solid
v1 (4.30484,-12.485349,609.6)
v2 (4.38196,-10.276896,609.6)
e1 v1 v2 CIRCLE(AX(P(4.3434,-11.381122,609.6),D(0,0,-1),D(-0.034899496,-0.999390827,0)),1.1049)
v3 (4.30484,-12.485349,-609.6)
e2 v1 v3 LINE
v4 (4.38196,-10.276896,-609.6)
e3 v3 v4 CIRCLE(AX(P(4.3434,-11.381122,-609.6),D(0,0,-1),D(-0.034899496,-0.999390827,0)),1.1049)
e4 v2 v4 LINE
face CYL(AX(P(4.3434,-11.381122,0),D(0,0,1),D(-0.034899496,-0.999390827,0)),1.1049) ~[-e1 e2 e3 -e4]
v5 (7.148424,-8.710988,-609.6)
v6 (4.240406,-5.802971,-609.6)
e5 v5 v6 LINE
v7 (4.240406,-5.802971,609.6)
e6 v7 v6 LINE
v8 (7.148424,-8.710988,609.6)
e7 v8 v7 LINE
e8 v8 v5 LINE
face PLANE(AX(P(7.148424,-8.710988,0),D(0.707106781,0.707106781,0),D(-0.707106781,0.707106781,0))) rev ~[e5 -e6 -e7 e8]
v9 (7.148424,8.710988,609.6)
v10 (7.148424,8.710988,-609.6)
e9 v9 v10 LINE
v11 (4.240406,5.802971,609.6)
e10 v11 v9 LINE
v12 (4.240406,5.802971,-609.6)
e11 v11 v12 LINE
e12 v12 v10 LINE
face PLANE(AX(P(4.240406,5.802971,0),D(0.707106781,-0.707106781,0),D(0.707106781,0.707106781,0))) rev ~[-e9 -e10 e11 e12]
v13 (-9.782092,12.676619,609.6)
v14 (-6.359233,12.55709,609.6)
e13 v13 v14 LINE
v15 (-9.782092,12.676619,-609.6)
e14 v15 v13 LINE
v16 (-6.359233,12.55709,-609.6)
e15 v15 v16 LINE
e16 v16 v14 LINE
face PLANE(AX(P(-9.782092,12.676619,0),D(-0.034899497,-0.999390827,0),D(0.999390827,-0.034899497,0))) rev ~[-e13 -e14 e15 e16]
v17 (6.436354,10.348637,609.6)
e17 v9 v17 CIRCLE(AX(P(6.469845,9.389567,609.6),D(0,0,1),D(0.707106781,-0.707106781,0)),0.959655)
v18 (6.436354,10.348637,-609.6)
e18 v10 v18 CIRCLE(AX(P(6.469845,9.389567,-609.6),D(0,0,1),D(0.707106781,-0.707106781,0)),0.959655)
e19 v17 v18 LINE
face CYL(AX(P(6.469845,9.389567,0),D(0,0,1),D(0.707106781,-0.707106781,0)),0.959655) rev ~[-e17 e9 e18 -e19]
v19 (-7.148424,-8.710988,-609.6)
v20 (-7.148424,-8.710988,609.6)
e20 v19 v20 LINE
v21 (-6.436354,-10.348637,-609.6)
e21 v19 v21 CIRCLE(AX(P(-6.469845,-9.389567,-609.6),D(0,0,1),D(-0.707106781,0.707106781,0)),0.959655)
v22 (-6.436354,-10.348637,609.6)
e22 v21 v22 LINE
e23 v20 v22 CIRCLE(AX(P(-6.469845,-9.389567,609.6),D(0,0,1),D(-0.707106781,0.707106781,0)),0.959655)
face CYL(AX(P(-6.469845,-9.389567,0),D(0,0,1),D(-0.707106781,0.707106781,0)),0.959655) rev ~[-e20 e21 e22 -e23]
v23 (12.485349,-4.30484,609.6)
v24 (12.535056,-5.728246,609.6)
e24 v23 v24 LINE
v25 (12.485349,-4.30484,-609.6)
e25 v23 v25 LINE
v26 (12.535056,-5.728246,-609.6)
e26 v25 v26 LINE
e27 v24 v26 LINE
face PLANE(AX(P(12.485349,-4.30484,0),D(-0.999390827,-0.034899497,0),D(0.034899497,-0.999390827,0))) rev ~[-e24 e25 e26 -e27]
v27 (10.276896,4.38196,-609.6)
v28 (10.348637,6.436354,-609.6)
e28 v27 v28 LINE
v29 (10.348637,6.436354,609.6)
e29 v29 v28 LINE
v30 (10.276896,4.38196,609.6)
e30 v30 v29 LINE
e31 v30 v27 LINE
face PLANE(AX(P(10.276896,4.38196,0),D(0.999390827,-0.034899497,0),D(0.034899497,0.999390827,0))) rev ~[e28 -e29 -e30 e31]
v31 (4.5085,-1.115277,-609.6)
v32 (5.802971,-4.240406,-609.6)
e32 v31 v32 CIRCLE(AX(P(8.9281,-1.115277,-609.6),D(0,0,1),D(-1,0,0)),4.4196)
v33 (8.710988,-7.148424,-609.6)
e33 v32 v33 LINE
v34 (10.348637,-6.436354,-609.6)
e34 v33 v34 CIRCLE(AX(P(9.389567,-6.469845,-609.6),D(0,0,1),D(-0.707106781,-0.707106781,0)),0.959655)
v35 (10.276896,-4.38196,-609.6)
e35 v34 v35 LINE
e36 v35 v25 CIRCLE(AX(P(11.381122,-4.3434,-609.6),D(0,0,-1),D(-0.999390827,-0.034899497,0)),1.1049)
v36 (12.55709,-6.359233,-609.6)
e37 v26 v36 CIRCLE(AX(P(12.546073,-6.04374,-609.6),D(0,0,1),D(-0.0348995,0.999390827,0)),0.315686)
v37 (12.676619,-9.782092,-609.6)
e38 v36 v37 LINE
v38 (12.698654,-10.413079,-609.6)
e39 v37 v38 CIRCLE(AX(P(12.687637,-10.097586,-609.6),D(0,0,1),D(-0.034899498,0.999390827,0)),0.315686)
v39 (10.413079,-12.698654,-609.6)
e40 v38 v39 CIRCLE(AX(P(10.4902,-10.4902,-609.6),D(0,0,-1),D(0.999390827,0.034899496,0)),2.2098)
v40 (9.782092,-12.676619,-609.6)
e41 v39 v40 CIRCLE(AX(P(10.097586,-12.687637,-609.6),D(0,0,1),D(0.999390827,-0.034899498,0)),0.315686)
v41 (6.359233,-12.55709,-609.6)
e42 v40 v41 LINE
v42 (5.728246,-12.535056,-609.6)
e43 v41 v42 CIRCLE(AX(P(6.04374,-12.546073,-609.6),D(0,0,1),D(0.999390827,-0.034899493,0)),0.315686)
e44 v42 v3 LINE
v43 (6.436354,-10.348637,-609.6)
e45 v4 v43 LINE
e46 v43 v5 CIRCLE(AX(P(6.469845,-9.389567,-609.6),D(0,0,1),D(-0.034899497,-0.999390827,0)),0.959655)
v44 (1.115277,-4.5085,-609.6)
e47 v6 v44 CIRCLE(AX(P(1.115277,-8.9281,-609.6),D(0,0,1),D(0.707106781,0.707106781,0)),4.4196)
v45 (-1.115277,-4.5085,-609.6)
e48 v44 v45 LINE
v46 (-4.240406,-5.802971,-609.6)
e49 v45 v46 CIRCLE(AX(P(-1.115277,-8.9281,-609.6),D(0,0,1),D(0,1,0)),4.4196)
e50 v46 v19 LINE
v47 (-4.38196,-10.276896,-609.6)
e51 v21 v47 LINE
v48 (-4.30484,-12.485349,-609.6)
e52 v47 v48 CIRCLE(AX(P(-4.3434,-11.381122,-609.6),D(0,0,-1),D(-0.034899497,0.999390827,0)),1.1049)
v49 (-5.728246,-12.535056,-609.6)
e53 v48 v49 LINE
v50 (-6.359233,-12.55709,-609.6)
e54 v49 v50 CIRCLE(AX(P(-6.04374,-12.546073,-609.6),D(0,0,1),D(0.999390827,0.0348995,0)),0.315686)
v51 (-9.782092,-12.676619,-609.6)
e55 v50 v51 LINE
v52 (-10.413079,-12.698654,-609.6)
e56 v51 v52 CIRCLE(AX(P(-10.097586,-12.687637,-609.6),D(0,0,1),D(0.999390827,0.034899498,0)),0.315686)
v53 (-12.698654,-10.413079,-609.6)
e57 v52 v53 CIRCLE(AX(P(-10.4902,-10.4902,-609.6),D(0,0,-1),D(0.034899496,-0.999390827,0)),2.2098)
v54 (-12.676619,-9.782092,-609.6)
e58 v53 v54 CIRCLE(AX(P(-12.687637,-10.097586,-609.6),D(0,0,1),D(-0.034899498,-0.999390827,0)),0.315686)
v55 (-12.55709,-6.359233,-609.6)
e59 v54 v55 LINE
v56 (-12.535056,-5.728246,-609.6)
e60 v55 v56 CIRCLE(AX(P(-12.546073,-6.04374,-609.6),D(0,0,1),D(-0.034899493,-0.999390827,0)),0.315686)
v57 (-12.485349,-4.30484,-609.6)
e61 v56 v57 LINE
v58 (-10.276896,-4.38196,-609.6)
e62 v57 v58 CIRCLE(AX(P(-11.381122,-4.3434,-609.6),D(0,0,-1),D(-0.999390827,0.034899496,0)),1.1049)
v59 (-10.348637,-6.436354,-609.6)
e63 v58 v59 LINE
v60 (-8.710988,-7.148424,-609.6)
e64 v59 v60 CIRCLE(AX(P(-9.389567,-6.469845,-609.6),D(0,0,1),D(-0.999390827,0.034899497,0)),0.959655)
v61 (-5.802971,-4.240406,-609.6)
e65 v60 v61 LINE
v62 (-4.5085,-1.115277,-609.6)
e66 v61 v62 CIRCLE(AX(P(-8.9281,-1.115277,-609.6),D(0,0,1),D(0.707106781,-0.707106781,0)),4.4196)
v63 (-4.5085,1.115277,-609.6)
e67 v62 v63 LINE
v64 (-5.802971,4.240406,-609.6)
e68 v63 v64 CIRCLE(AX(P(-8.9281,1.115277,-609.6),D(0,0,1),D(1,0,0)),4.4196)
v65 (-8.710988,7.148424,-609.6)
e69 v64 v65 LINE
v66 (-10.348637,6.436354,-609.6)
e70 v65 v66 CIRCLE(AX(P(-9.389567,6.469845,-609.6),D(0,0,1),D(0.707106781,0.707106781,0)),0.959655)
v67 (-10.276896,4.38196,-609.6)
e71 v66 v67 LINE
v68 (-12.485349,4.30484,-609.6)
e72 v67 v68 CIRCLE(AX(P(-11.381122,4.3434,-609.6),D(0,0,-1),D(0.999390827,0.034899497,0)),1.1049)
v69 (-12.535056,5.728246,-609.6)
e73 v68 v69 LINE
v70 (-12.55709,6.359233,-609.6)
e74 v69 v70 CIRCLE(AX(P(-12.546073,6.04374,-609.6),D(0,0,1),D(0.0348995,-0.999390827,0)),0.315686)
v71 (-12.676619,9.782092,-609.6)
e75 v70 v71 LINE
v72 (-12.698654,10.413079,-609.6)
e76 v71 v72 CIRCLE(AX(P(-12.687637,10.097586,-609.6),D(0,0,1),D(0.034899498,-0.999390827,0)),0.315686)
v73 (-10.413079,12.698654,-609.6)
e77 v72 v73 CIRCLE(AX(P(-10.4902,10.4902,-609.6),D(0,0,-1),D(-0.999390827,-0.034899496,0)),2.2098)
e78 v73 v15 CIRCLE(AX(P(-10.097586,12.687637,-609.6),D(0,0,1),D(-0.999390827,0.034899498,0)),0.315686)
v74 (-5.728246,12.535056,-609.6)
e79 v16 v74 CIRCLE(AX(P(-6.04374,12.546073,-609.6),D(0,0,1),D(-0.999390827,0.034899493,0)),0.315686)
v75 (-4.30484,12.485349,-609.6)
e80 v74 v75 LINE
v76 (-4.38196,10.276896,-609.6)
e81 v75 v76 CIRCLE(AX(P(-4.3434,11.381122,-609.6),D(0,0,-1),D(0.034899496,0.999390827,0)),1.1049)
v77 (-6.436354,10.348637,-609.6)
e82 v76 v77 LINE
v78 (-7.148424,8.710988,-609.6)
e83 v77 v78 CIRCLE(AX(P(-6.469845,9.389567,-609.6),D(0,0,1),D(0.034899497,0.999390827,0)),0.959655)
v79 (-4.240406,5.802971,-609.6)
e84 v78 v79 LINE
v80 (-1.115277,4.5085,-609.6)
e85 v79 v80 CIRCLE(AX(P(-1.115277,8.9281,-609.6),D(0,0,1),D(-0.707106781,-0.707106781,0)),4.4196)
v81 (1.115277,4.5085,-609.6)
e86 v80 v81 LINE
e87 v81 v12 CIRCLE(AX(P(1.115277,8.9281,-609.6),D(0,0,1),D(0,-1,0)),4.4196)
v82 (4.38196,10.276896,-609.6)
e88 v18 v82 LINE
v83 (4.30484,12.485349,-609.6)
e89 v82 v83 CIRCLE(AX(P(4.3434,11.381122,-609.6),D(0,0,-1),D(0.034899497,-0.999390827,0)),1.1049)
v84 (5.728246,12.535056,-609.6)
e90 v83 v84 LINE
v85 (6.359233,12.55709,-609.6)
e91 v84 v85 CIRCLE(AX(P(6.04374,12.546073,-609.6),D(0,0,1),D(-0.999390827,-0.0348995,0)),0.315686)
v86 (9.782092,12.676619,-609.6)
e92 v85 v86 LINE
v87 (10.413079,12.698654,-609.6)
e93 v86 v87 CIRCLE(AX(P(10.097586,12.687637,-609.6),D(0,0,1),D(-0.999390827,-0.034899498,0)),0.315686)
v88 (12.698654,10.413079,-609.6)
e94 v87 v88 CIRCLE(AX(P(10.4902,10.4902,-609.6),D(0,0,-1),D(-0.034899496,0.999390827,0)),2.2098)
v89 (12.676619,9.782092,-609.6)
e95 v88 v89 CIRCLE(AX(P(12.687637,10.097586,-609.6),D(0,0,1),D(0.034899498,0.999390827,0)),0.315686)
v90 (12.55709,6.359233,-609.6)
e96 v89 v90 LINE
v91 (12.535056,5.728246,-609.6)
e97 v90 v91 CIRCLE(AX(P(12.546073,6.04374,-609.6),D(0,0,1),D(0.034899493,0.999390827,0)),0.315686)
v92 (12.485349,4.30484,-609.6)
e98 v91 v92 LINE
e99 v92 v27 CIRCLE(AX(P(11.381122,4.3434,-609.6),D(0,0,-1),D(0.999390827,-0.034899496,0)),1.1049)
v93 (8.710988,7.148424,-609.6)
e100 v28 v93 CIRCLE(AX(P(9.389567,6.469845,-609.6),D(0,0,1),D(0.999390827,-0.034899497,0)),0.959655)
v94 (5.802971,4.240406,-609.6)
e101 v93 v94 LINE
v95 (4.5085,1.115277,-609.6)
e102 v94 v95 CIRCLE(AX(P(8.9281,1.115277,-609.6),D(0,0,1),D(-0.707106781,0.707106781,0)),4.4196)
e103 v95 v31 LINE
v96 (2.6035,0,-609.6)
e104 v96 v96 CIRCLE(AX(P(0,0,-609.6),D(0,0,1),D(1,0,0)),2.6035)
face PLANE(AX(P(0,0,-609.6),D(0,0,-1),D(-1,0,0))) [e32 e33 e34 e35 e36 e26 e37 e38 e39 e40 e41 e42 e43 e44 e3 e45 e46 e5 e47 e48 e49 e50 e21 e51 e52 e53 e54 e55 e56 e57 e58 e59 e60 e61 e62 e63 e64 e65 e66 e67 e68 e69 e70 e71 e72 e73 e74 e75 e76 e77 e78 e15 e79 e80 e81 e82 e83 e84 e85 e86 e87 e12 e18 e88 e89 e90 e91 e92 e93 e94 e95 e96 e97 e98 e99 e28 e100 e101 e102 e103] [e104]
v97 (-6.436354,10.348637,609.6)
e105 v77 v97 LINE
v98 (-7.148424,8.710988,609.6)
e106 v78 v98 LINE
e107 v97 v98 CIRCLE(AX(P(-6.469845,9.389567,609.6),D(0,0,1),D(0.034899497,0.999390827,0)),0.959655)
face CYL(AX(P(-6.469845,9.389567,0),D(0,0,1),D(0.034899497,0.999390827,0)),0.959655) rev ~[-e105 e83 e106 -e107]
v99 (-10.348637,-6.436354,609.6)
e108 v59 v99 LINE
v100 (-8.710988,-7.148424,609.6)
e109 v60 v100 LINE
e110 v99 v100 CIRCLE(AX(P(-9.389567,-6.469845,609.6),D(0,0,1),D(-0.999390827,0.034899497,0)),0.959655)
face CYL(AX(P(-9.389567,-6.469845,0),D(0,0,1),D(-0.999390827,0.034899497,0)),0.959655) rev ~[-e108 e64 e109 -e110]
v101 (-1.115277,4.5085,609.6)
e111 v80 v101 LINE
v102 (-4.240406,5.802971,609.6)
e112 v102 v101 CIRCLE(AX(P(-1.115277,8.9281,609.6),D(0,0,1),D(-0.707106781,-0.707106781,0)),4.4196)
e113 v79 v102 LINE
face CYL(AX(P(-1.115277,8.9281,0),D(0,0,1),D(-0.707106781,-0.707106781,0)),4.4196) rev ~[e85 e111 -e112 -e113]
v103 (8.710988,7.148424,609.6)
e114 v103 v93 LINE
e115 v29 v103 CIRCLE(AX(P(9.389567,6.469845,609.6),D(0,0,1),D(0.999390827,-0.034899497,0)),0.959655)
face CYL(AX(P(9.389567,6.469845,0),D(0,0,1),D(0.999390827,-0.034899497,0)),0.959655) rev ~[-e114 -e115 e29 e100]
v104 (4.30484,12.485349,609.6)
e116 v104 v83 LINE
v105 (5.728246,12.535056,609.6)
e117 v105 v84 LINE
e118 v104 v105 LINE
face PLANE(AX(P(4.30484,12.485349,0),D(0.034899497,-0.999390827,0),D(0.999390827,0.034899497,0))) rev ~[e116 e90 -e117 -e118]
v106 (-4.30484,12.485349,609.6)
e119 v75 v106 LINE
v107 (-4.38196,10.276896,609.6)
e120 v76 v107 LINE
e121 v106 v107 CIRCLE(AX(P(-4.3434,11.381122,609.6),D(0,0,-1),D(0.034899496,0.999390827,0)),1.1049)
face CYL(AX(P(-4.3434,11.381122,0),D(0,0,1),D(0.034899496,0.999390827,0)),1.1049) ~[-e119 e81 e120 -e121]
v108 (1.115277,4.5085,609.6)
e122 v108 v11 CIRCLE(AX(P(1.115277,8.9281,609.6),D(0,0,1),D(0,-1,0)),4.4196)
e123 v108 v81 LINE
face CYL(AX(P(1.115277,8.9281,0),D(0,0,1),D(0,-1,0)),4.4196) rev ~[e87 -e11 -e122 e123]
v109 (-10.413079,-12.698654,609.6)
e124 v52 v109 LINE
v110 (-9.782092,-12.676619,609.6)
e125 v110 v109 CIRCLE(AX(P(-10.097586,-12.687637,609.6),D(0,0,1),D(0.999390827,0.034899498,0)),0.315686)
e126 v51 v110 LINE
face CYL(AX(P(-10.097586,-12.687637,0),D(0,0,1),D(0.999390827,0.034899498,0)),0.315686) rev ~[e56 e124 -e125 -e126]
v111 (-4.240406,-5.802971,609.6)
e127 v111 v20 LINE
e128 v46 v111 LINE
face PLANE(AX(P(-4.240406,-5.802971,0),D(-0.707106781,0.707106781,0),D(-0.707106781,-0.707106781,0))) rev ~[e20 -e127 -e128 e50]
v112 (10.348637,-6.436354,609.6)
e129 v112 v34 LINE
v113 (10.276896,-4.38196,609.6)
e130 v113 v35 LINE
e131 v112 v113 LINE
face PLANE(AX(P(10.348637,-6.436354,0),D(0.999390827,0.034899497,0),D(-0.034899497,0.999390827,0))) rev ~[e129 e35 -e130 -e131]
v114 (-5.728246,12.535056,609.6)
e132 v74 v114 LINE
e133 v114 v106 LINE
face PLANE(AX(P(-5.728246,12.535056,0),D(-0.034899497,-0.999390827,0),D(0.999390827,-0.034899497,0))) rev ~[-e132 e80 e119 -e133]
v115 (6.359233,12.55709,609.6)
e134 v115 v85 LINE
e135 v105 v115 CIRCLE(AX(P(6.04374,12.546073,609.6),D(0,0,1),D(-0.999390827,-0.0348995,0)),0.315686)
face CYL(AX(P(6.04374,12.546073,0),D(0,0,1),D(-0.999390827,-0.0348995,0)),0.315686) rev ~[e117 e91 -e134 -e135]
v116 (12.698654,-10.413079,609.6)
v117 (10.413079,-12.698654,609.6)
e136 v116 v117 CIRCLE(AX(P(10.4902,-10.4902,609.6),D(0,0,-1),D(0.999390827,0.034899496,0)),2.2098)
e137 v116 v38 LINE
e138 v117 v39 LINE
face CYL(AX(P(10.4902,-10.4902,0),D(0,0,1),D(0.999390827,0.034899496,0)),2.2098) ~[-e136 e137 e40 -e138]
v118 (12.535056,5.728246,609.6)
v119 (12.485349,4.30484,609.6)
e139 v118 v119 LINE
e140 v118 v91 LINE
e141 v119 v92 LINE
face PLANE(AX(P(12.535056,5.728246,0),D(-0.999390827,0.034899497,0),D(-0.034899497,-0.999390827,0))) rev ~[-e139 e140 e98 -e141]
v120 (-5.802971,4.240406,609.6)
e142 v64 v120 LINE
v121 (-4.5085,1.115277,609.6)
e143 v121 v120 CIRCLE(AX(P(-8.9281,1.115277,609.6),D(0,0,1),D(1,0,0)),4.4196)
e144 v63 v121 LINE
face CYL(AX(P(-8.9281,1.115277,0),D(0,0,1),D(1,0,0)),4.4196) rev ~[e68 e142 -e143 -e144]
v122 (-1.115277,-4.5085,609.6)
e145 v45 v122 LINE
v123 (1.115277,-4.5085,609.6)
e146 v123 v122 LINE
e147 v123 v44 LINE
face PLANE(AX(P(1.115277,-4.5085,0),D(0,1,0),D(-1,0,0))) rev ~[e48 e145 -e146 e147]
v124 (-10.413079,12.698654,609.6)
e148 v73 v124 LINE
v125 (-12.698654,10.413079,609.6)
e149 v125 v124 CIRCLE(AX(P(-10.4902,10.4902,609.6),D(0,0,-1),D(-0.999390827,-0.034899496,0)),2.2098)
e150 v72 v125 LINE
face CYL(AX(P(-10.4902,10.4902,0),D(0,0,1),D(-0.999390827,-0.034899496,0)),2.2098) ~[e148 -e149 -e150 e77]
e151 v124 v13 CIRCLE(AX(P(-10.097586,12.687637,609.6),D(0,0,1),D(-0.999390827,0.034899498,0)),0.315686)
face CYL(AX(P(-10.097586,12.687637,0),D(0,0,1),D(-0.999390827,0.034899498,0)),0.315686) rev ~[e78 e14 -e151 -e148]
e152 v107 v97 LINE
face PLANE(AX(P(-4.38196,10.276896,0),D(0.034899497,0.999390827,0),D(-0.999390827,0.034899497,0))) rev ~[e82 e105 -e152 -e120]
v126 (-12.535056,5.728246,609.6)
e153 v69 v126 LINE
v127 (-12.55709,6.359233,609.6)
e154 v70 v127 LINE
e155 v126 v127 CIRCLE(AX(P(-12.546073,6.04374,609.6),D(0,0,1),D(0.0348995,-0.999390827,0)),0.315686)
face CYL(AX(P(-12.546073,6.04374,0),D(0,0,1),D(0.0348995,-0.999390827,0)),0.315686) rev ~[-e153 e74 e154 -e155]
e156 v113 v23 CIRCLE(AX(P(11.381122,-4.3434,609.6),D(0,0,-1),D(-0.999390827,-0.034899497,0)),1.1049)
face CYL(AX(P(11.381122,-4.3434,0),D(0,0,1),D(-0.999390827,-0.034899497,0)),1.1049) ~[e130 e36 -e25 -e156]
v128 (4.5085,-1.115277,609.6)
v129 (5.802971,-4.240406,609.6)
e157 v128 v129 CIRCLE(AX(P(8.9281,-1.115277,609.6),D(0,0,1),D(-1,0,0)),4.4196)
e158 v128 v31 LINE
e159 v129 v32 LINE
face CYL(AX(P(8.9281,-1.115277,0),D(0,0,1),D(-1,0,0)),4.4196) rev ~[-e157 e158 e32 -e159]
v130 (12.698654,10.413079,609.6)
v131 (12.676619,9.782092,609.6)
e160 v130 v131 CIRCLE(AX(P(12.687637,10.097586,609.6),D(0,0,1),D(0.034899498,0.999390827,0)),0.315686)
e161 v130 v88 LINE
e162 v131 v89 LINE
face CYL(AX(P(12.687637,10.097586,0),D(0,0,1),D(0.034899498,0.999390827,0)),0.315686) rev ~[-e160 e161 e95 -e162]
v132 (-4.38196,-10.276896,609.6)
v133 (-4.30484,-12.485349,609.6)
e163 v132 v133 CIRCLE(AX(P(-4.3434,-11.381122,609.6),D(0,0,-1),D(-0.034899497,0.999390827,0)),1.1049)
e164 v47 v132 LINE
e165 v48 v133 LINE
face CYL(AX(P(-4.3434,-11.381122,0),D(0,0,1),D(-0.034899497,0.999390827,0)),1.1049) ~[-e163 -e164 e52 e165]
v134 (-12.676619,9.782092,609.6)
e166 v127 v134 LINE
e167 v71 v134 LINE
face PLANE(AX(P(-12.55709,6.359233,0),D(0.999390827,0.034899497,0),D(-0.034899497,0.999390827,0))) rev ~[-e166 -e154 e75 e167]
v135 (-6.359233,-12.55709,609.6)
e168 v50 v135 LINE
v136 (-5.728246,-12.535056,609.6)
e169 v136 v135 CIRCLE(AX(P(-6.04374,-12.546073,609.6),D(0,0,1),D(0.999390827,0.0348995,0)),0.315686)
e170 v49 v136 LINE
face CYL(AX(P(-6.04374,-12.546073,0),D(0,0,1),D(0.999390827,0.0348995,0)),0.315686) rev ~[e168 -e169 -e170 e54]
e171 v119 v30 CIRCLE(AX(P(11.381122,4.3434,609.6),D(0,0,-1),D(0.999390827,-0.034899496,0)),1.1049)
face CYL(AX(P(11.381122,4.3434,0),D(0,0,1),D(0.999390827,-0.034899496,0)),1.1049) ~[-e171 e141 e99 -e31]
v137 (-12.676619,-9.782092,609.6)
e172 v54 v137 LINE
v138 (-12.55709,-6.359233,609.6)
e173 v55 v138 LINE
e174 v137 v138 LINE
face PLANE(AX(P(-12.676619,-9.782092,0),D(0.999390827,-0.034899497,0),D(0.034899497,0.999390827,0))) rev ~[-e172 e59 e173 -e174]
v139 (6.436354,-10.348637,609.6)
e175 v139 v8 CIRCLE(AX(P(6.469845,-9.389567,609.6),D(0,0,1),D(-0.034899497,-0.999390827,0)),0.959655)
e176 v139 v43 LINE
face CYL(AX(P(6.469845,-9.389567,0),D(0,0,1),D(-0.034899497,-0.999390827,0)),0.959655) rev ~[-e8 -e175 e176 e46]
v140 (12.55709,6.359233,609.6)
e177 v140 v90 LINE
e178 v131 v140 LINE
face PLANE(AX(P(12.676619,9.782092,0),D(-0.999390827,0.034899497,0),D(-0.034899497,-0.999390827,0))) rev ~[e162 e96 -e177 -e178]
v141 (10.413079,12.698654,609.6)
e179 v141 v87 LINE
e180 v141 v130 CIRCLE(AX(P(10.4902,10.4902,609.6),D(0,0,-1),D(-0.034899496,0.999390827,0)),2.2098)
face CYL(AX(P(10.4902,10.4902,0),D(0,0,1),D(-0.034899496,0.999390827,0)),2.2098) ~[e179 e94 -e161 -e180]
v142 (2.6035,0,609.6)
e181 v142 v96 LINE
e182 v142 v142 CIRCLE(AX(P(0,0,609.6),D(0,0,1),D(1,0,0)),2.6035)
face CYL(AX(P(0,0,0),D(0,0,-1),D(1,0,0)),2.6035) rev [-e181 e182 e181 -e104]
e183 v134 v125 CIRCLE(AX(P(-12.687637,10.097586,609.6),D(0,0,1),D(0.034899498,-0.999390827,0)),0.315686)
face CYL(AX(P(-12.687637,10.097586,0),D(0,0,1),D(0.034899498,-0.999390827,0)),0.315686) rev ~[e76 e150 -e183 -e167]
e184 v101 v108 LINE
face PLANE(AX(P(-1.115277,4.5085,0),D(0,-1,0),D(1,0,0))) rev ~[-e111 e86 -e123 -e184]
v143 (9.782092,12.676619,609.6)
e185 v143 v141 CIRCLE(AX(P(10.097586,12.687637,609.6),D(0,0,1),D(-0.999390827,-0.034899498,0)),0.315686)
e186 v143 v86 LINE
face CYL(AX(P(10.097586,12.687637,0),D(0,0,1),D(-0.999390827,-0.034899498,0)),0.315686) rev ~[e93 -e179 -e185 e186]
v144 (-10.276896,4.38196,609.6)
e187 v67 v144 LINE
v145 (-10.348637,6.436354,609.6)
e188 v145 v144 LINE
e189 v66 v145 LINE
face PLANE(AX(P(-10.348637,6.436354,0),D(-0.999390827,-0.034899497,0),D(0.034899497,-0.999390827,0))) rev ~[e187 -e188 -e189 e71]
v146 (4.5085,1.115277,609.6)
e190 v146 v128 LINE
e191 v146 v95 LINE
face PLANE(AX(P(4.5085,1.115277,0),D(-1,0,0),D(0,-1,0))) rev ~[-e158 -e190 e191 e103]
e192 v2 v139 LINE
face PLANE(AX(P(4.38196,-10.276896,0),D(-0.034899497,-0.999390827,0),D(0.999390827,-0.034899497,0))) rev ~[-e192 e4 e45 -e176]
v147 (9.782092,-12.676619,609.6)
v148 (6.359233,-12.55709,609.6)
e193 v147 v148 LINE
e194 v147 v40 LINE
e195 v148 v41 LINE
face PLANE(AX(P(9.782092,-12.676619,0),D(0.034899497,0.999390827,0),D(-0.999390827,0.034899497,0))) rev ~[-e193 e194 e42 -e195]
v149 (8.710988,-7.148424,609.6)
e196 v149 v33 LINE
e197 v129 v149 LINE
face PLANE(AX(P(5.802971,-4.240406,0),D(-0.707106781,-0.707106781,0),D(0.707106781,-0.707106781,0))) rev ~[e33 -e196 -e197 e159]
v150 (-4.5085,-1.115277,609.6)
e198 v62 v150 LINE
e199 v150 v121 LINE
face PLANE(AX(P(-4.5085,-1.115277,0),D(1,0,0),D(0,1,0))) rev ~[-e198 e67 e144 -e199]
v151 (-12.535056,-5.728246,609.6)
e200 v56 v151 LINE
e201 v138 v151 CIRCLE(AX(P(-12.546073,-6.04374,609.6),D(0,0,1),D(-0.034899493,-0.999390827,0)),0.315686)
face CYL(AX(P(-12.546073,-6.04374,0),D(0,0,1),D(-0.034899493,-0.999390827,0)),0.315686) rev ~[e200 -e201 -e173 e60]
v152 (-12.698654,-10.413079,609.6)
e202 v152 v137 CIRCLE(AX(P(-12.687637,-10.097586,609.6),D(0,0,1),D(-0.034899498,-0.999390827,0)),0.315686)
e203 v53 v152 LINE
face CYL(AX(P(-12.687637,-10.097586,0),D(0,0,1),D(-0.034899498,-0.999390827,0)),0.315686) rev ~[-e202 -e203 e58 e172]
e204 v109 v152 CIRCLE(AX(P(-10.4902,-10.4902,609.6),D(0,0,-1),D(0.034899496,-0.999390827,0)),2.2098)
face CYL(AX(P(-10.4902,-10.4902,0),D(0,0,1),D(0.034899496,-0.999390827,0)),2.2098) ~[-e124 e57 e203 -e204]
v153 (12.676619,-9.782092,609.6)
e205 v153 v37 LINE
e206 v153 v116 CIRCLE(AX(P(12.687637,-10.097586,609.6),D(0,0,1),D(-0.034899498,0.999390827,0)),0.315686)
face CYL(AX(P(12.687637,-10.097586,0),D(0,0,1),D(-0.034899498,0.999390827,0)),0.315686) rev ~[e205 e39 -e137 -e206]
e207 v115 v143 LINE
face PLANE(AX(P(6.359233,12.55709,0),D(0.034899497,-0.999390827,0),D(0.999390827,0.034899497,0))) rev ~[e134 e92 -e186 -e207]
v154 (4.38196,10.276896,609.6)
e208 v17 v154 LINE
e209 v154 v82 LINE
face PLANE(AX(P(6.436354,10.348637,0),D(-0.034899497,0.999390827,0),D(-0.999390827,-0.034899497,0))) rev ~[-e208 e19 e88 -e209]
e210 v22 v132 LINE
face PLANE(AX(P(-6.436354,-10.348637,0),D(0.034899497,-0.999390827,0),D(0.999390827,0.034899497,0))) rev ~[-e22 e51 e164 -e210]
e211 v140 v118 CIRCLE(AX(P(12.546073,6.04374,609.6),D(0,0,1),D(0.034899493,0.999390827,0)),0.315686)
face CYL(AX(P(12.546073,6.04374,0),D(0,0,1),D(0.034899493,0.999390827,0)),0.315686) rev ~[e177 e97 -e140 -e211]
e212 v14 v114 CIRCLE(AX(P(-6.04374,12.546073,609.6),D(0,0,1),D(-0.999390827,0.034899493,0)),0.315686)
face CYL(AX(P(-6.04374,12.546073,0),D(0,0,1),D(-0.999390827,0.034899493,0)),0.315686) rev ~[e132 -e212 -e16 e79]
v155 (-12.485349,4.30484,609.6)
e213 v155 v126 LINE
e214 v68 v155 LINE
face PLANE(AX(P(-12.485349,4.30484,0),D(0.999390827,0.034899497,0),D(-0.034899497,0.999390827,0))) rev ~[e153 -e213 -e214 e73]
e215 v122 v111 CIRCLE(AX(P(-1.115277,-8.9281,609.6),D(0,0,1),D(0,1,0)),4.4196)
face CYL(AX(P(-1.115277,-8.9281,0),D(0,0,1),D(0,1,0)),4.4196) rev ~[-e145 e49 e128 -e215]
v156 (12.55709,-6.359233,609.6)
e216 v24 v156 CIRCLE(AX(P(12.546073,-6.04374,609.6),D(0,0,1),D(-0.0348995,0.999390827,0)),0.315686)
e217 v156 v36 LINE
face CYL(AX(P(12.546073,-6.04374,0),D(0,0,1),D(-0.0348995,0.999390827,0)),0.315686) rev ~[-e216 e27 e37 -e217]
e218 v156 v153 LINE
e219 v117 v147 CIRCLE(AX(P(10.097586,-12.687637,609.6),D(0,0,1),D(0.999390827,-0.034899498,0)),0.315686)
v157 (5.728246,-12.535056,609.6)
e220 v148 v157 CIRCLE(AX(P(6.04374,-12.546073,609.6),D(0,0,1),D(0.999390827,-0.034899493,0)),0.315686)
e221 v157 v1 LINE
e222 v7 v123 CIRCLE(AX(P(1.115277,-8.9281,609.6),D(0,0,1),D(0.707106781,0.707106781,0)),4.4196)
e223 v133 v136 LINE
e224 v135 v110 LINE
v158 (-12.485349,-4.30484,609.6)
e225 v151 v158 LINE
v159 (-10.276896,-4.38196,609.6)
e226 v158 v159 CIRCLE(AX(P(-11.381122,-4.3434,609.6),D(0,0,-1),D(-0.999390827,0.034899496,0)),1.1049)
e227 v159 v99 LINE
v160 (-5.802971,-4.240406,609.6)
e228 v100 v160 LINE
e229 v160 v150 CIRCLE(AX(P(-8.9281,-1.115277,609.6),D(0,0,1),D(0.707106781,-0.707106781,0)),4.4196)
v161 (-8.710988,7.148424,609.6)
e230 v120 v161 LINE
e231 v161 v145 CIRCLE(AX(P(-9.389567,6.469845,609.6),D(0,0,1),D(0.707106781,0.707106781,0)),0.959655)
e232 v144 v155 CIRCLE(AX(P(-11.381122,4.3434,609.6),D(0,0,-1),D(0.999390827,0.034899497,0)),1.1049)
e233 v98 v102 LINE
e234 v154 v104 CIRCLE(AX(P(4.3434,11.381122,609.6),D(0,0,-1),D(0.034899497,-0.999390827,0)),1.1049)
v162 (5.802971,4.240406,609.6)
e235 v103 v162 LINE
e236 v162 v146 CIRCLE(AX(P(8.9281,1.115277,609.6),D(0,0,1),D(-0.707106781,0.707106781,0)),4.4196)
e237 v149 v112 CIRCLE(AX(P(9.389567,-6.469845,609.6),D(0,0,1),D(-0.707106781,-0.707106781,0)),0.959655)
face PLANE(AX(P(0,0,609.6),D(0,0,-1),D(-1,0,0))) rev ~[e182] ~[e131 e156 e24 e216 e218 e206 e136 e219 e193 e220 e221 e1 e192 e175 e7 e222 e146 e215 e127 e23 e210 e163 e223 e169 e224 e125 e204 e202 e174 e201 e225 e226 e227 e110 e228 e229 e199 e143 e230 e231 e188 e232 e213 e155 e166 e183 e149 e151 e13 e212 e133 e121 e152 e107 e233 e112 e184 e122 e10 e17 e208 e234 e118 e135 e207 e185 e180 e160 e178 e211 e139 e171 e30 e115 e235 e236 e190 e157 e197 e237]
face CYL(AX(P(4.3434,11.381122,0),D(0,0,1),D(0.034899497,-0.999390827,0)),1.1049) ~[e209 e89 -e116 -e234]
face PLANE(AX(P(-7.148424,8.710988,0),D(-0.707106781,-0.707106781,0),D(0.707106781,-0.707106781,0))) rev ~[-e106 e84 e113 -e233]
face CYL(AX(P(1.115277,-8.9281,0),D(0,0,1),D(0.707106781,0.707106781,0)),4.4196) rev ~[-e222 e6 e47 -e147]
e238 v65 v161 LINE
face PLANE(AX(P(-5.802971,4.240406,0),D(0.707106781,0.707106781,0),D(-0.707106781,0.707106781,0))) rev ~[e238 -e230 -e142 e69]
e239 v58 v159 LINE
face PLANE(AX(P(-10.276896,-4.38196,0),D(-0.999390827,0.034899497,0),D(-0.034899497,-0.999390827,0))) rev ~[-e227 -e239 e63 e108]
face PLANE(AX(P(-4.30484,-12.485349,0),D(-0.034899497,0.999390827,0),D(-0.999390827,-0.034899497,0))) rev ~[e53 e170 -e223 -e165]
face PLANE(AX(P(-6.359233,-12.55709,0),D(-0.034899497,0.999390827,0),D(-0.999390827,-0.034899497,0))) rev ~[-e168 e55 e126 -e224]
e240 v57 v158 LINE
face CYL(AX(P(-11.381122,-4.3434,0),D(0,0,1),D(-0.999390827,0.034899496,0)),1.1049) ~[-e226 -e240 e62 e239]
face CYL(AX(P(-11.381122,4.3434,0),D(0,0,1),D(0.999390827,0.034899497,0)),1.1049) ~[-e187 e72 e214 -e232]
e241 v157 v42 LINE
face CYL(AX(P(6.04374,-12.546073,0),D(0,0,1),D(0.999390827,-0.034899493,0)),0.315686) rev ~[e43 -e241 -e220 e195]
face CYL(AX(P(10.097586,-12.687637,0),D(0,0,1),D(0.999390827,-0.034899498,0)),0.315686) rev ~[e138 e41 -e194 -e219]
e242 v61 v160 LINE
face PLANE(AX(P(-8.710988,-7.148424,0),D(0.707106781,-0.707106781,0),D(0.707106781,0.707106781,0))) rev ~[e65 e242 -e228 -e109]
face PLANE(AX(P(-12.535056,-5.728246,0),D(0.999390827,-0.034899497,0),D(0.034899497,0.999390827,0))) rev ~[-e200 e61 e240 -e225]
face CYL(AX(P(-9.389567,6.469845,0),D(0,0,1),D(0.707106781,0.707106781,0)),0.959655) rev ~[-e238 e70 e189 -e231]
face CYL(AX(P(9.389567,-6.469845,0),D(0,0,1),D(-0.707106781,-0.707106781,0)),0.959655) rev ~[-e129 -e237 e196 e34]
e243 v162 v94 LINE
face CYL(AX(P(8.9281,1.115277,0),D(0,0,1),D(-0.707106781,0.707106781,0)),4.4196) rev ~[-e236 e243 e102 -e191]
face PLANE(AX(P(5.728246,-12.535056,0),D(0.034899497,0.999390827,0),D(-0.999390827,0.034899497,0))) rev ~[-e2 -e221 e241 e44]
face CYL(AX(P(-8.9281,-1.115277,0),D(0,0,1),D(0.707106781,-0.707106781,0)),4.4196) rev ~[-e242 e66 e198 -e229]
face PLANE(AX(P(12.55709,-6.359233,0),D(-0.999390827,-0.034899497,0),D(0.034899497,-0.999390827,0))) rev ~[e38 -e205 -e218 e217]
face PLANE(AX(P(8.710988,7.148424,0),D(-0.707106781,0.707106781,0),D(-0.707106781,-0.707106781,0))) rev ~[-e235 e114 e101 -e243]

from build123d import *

# Parameters (mm, degrees)
SKETCH3_R      = 2.6035
EXTRUDE1_DEPTH = 609.6


with BuildPart() as part:
    # Sketch3 → Extrude1 (new body, symmetric)
    with BuildSketch(Plane.XY):
        with BuildLine():
            Line((-1.115277175, 4.5085), (1.115277175, 4.5085))
            ThreePointArc((1.115277175, 4.5085), (2.806584872, 4.844922018), (4.240406305, 5.80297087))
            Line((4.240406305, 5.80297087), (7.148423664, 8.710988229))
            ThreePointArc((7.148423664, 8.710988229), (7.349906316, 9.772227925), (6.436353897, 10.348636575))
            Line((6.436353897, 10.348636575), (4.381960454, 10.276895575))
            ThreePointArc((4.381960454, 10.276895575), (3.239173075, 11.342562046), (4.304839546, 12.485349424))
            Line((4.304839546, 12.485349424), (5.728246175, 12.535055879))
            ThreePointArc((5.728246175, 12.535055879), (6.054756855, 12.230579745), (6.35923299, 12.557090424))
            Line((6.35923299, 12.557090424), (9.782092278, 12.676619304))
            ThreePointArc((9.782092278, 12.676619304), (10.108602958, 12.37214317), (10.413079092, 12.69865385))
            ThreePointArc((10.413079092, 12.69865385), (12.052764565, 12.052764565), (12.69865385, 10.413079092))
            ThreePointArc((12.69865385, 10.413079092), (12.37214317, 10.108602958), (12.676619304, 9.782092278))
            Line((12.676619304, 9.782092278), (12.557090424, 6.35923299))
            ThreePointArc((12.557090424, 6.35923299), (12.230579745, 6.054756855), (12.535055879, 5.728246175))
            Line((12.535055879, 5.728246175), (12.485349424, 4.304839546))
            ThreePointArc((12.485349424, 4.304839546), (11.342562046, 3.239173075), (10.276895575, 4.381960454))
            Line((10.276895575, 4.381960454), (10.348636575, 6.436353897))
            ThreePointArc((10.348636575, 6.436353897), (9.772227925, 7.349906316), (8.710988229, 7.148423664))
            Line((8.710988229, 7.148423664), (5.80297087, 4.240406305))
            ThreePointArc((5.80297087, 4.240406305), (4.844922018, 2.806584872), (4.5085, 1.115277175))
            Line((4.5085, 1.115277175), (4.5085, -1.115277175))
            ThreePointArc((4.5085, -1.115277175), (4.844922018, -2.806584872), (5.80297087, -4.240406305))
            Line((5.80297087, -4.240406305), (8.710988229, -7.148423664))
            ThreePointArc((8.710988229, -7.148423664), (9.772227925, -7.349906316), (10.348636575, -6.436353897))
            Line((10.348636575, -6.436353897), (10.276895575, -4.381960454))
            ThreePointArc((10.276895575, -4.381960454), (11.342562046, -3.239173075), (12.485349424, -4.304839546))
            Line((12.485349424, -4.304839546), (12.535055879, -5.728246175))
            ThreePointArc((12.535055879, -5.728246175), (12.230579745, -6.054756855), (12.557090424, -6.35923299))
            Line((12.557090424, -6.35923299), (12.676619304, -9.782092278))
            ThreePointArc((12.676619304, -9.782092278), (12.37214317, -10.108602958), (12.69865385, -10.413079092))
            ThreePointArc((12.69865385, -10.413079092), (12.052764565, -12.052764565), (10.413079092, -12.69865385))
            ThreePointArc((10.413079092, -12.69865385), (10.108602958, -12.37214317), (9.782092278, -12.676619304))
            Line((9.782092278, -12.676619304), (6.35923299, -12.557090424))
            ThreePointArc((6.35923299, -12.557090424), (6.054756855, -12.230579745), (5.728246175, -12.535055879))
            Line((5.728246175, -12.535055879), (4.304839546, -12.485349424))
            ThreePointArc((4.304839546, -12.485349424), (3.239173075, -11.342562046), (4.381960454, -10.276895575))
            Line((4.381960454, -10.276895575), (6.436353897, -10.348636575))
            ThreePointArc((6.436353897, -10.348636575), (7.349906316, -9.772227925), (7.148423664, -8.710988229))
            Line((7.148423664, -8.710988229), (4.240406305, -5.80297087))
            ThreePointArc((4.240406305, -5.80297087), (2.806584872, -4.844922018), (1.115277175, -4.5085))
            Line((1.115277175, -4.5085), (-1.115277175, -4.5085))
            ThreePointArc((-1.115277175, -4.5085), (-2.806584872, -4.844922018), (-4.240406305, -5.80297087))
            Line((-4.240406305, -5.80297087), (-7.148423664, -8.710988229))
            ThreePointArc((-7.148423664, -8.710988229), (-7.349906316, -9.772227925), (-6.436353897, -10.348636575))
            Line((-6.436353897, -10.348636575), (-4.381960454, -10.276895575))
            ThreePointArc((-4.381960454, -10.276895575), (-3.239173075, -11.342562046), (-4.304839546, -12.485349424))
            Line((-4.304839546, -12.485349424), (-5.728246175, -12.535055879))
            ThreePointArc((-5.728246175, -12.535055879), (-6.054756855, -12.230579745), (-6.35923299, -12.557090424))
            Line((-6.35923299, -12.557090424), (-9.782092278, -12.676619304))
            ThreePointArc((-9.782092278, -12.676619304), (-10.108602958, -12.37214317), (-10.413079092, -12.69865385))
            ThreePointArc((-10.413079092, -12.69865385), (-12.052764565, -12.052764565), (-12.69865385, -10.413079092))
            ThreePointArc((-12.69865385, -10.413079092), (-12.37214317, -10.108602958), (-12.676619304, -9.782092278))
            Line((-12.676619304, -9.782092278), (-12.557090424, -6.35923299))
            ThreePointArc((-12.557090424, -6.35923299), (-12.230579745, -6.054756855), (-12.535055879, -5.728246175))
            Line((-12.535055879, -5.728246175), (-12.485349424, -4.304839546))
            ThreePointArc((-12.485349424, -4.304839546), (-11.342562046, -3.239173075), (-10.276895575, -4.381960454))
            Line((-10.276895575, -4.381960454), (-10.348636575, -6.436353897))
            ThreePointArc((-10.348636575, -6.436353897), (-9.772227925, -7.349906316), (-8.710988229, -7.148423664))
            Line((-8.710988229, -7.148423664), (-5.80297087, -4.240406305))
            ThreePointArc((-5.80297087, -4.240406305), (-4.844922018, -2.806584872), (-4.5085, -1.115277175))
            Line((-4.5085, -1.115277175), (-4.5085, 1.115277175))
            ThreePointArc((-4.5085, 1.115277175), (-4.844922018, 2.806584872), (-5.80297087, 4.240406305))
            Line((-5.80297087, 4.240406305), (-8.710988229, 7.148423664))
            ThreePointArc((-8.710988229, 7.148423664), (-9.772227925, 7.349906316), (-10.348636575, 6.436353897))
            Line((-10.348636575, 6.436353897), (-10.276895575, 4.381960454))
            ThreePointArc((-10.276895575, 4.381960454), (-11.342562046, 3.239173075), (-12.485349424, 4.304839546))
            Line((-12.485349424, 4.304839546), (-12.535055879, 5.728246175))
            ThreePointArc((-12.535055879, 5.728246175), (-12.230579745, 6.054756855), (-12.557090424, 6.35923299))
            Line((-12.557090424, 6.35923299), (-12.676619304, 9.782092278))
            ThreePointArc((-12.676619304, 9.782092278), (-12.37214317, 10.108602958), (-12.69865385, 10.413079092))
            ThreePointArc((-12.69865385, 10.413079092), (-12.052764565, 12.052764565), (-10.413079092, 12.69865385))
            ThreePointArc((-10.413079092, 12.69865385), (-10.108602958, 12.37214317), (-9.782092278, 12.676619304))
            Line((-9.782092278, 12.676619304), (-6.35923299, 12.557090424))
            ThreePointArc((-6.35923299, 12.557090424), (-6.054756855, 12.230579745), (-5.728246175, 12.535055879))
            Line((-5.728246175, 12.535055879), (-4.304839546, 12.485349424))
            ThreePointArc((-4.304839546, 12.485349424), (-3.239173075, 11.342562046), (-4.381960454, 10.276895575))
            Line((-4.381960454, 10.276895575), (-6.436353897, 10.348636575))
            ThreePointArc((-6.436353897, 10.348636575), (-7.349906316, 9.772227925), (-7.148423664, 8.710988229))
            Line((-7.148423664, 8.710988229), (-4.240406305, 5.80297087))
            ThreePointArc((-4.240406305, 5.80297087), (-2.806584872, 4.844922018), (-1.115277175, 4.5085))
        make_face()
        Circle(SKETCH3_R, mode=Mode.SUBTRACT)
    extrude(amount=EXTRUDE1_DEPTH, both=True)


solid = part.part
